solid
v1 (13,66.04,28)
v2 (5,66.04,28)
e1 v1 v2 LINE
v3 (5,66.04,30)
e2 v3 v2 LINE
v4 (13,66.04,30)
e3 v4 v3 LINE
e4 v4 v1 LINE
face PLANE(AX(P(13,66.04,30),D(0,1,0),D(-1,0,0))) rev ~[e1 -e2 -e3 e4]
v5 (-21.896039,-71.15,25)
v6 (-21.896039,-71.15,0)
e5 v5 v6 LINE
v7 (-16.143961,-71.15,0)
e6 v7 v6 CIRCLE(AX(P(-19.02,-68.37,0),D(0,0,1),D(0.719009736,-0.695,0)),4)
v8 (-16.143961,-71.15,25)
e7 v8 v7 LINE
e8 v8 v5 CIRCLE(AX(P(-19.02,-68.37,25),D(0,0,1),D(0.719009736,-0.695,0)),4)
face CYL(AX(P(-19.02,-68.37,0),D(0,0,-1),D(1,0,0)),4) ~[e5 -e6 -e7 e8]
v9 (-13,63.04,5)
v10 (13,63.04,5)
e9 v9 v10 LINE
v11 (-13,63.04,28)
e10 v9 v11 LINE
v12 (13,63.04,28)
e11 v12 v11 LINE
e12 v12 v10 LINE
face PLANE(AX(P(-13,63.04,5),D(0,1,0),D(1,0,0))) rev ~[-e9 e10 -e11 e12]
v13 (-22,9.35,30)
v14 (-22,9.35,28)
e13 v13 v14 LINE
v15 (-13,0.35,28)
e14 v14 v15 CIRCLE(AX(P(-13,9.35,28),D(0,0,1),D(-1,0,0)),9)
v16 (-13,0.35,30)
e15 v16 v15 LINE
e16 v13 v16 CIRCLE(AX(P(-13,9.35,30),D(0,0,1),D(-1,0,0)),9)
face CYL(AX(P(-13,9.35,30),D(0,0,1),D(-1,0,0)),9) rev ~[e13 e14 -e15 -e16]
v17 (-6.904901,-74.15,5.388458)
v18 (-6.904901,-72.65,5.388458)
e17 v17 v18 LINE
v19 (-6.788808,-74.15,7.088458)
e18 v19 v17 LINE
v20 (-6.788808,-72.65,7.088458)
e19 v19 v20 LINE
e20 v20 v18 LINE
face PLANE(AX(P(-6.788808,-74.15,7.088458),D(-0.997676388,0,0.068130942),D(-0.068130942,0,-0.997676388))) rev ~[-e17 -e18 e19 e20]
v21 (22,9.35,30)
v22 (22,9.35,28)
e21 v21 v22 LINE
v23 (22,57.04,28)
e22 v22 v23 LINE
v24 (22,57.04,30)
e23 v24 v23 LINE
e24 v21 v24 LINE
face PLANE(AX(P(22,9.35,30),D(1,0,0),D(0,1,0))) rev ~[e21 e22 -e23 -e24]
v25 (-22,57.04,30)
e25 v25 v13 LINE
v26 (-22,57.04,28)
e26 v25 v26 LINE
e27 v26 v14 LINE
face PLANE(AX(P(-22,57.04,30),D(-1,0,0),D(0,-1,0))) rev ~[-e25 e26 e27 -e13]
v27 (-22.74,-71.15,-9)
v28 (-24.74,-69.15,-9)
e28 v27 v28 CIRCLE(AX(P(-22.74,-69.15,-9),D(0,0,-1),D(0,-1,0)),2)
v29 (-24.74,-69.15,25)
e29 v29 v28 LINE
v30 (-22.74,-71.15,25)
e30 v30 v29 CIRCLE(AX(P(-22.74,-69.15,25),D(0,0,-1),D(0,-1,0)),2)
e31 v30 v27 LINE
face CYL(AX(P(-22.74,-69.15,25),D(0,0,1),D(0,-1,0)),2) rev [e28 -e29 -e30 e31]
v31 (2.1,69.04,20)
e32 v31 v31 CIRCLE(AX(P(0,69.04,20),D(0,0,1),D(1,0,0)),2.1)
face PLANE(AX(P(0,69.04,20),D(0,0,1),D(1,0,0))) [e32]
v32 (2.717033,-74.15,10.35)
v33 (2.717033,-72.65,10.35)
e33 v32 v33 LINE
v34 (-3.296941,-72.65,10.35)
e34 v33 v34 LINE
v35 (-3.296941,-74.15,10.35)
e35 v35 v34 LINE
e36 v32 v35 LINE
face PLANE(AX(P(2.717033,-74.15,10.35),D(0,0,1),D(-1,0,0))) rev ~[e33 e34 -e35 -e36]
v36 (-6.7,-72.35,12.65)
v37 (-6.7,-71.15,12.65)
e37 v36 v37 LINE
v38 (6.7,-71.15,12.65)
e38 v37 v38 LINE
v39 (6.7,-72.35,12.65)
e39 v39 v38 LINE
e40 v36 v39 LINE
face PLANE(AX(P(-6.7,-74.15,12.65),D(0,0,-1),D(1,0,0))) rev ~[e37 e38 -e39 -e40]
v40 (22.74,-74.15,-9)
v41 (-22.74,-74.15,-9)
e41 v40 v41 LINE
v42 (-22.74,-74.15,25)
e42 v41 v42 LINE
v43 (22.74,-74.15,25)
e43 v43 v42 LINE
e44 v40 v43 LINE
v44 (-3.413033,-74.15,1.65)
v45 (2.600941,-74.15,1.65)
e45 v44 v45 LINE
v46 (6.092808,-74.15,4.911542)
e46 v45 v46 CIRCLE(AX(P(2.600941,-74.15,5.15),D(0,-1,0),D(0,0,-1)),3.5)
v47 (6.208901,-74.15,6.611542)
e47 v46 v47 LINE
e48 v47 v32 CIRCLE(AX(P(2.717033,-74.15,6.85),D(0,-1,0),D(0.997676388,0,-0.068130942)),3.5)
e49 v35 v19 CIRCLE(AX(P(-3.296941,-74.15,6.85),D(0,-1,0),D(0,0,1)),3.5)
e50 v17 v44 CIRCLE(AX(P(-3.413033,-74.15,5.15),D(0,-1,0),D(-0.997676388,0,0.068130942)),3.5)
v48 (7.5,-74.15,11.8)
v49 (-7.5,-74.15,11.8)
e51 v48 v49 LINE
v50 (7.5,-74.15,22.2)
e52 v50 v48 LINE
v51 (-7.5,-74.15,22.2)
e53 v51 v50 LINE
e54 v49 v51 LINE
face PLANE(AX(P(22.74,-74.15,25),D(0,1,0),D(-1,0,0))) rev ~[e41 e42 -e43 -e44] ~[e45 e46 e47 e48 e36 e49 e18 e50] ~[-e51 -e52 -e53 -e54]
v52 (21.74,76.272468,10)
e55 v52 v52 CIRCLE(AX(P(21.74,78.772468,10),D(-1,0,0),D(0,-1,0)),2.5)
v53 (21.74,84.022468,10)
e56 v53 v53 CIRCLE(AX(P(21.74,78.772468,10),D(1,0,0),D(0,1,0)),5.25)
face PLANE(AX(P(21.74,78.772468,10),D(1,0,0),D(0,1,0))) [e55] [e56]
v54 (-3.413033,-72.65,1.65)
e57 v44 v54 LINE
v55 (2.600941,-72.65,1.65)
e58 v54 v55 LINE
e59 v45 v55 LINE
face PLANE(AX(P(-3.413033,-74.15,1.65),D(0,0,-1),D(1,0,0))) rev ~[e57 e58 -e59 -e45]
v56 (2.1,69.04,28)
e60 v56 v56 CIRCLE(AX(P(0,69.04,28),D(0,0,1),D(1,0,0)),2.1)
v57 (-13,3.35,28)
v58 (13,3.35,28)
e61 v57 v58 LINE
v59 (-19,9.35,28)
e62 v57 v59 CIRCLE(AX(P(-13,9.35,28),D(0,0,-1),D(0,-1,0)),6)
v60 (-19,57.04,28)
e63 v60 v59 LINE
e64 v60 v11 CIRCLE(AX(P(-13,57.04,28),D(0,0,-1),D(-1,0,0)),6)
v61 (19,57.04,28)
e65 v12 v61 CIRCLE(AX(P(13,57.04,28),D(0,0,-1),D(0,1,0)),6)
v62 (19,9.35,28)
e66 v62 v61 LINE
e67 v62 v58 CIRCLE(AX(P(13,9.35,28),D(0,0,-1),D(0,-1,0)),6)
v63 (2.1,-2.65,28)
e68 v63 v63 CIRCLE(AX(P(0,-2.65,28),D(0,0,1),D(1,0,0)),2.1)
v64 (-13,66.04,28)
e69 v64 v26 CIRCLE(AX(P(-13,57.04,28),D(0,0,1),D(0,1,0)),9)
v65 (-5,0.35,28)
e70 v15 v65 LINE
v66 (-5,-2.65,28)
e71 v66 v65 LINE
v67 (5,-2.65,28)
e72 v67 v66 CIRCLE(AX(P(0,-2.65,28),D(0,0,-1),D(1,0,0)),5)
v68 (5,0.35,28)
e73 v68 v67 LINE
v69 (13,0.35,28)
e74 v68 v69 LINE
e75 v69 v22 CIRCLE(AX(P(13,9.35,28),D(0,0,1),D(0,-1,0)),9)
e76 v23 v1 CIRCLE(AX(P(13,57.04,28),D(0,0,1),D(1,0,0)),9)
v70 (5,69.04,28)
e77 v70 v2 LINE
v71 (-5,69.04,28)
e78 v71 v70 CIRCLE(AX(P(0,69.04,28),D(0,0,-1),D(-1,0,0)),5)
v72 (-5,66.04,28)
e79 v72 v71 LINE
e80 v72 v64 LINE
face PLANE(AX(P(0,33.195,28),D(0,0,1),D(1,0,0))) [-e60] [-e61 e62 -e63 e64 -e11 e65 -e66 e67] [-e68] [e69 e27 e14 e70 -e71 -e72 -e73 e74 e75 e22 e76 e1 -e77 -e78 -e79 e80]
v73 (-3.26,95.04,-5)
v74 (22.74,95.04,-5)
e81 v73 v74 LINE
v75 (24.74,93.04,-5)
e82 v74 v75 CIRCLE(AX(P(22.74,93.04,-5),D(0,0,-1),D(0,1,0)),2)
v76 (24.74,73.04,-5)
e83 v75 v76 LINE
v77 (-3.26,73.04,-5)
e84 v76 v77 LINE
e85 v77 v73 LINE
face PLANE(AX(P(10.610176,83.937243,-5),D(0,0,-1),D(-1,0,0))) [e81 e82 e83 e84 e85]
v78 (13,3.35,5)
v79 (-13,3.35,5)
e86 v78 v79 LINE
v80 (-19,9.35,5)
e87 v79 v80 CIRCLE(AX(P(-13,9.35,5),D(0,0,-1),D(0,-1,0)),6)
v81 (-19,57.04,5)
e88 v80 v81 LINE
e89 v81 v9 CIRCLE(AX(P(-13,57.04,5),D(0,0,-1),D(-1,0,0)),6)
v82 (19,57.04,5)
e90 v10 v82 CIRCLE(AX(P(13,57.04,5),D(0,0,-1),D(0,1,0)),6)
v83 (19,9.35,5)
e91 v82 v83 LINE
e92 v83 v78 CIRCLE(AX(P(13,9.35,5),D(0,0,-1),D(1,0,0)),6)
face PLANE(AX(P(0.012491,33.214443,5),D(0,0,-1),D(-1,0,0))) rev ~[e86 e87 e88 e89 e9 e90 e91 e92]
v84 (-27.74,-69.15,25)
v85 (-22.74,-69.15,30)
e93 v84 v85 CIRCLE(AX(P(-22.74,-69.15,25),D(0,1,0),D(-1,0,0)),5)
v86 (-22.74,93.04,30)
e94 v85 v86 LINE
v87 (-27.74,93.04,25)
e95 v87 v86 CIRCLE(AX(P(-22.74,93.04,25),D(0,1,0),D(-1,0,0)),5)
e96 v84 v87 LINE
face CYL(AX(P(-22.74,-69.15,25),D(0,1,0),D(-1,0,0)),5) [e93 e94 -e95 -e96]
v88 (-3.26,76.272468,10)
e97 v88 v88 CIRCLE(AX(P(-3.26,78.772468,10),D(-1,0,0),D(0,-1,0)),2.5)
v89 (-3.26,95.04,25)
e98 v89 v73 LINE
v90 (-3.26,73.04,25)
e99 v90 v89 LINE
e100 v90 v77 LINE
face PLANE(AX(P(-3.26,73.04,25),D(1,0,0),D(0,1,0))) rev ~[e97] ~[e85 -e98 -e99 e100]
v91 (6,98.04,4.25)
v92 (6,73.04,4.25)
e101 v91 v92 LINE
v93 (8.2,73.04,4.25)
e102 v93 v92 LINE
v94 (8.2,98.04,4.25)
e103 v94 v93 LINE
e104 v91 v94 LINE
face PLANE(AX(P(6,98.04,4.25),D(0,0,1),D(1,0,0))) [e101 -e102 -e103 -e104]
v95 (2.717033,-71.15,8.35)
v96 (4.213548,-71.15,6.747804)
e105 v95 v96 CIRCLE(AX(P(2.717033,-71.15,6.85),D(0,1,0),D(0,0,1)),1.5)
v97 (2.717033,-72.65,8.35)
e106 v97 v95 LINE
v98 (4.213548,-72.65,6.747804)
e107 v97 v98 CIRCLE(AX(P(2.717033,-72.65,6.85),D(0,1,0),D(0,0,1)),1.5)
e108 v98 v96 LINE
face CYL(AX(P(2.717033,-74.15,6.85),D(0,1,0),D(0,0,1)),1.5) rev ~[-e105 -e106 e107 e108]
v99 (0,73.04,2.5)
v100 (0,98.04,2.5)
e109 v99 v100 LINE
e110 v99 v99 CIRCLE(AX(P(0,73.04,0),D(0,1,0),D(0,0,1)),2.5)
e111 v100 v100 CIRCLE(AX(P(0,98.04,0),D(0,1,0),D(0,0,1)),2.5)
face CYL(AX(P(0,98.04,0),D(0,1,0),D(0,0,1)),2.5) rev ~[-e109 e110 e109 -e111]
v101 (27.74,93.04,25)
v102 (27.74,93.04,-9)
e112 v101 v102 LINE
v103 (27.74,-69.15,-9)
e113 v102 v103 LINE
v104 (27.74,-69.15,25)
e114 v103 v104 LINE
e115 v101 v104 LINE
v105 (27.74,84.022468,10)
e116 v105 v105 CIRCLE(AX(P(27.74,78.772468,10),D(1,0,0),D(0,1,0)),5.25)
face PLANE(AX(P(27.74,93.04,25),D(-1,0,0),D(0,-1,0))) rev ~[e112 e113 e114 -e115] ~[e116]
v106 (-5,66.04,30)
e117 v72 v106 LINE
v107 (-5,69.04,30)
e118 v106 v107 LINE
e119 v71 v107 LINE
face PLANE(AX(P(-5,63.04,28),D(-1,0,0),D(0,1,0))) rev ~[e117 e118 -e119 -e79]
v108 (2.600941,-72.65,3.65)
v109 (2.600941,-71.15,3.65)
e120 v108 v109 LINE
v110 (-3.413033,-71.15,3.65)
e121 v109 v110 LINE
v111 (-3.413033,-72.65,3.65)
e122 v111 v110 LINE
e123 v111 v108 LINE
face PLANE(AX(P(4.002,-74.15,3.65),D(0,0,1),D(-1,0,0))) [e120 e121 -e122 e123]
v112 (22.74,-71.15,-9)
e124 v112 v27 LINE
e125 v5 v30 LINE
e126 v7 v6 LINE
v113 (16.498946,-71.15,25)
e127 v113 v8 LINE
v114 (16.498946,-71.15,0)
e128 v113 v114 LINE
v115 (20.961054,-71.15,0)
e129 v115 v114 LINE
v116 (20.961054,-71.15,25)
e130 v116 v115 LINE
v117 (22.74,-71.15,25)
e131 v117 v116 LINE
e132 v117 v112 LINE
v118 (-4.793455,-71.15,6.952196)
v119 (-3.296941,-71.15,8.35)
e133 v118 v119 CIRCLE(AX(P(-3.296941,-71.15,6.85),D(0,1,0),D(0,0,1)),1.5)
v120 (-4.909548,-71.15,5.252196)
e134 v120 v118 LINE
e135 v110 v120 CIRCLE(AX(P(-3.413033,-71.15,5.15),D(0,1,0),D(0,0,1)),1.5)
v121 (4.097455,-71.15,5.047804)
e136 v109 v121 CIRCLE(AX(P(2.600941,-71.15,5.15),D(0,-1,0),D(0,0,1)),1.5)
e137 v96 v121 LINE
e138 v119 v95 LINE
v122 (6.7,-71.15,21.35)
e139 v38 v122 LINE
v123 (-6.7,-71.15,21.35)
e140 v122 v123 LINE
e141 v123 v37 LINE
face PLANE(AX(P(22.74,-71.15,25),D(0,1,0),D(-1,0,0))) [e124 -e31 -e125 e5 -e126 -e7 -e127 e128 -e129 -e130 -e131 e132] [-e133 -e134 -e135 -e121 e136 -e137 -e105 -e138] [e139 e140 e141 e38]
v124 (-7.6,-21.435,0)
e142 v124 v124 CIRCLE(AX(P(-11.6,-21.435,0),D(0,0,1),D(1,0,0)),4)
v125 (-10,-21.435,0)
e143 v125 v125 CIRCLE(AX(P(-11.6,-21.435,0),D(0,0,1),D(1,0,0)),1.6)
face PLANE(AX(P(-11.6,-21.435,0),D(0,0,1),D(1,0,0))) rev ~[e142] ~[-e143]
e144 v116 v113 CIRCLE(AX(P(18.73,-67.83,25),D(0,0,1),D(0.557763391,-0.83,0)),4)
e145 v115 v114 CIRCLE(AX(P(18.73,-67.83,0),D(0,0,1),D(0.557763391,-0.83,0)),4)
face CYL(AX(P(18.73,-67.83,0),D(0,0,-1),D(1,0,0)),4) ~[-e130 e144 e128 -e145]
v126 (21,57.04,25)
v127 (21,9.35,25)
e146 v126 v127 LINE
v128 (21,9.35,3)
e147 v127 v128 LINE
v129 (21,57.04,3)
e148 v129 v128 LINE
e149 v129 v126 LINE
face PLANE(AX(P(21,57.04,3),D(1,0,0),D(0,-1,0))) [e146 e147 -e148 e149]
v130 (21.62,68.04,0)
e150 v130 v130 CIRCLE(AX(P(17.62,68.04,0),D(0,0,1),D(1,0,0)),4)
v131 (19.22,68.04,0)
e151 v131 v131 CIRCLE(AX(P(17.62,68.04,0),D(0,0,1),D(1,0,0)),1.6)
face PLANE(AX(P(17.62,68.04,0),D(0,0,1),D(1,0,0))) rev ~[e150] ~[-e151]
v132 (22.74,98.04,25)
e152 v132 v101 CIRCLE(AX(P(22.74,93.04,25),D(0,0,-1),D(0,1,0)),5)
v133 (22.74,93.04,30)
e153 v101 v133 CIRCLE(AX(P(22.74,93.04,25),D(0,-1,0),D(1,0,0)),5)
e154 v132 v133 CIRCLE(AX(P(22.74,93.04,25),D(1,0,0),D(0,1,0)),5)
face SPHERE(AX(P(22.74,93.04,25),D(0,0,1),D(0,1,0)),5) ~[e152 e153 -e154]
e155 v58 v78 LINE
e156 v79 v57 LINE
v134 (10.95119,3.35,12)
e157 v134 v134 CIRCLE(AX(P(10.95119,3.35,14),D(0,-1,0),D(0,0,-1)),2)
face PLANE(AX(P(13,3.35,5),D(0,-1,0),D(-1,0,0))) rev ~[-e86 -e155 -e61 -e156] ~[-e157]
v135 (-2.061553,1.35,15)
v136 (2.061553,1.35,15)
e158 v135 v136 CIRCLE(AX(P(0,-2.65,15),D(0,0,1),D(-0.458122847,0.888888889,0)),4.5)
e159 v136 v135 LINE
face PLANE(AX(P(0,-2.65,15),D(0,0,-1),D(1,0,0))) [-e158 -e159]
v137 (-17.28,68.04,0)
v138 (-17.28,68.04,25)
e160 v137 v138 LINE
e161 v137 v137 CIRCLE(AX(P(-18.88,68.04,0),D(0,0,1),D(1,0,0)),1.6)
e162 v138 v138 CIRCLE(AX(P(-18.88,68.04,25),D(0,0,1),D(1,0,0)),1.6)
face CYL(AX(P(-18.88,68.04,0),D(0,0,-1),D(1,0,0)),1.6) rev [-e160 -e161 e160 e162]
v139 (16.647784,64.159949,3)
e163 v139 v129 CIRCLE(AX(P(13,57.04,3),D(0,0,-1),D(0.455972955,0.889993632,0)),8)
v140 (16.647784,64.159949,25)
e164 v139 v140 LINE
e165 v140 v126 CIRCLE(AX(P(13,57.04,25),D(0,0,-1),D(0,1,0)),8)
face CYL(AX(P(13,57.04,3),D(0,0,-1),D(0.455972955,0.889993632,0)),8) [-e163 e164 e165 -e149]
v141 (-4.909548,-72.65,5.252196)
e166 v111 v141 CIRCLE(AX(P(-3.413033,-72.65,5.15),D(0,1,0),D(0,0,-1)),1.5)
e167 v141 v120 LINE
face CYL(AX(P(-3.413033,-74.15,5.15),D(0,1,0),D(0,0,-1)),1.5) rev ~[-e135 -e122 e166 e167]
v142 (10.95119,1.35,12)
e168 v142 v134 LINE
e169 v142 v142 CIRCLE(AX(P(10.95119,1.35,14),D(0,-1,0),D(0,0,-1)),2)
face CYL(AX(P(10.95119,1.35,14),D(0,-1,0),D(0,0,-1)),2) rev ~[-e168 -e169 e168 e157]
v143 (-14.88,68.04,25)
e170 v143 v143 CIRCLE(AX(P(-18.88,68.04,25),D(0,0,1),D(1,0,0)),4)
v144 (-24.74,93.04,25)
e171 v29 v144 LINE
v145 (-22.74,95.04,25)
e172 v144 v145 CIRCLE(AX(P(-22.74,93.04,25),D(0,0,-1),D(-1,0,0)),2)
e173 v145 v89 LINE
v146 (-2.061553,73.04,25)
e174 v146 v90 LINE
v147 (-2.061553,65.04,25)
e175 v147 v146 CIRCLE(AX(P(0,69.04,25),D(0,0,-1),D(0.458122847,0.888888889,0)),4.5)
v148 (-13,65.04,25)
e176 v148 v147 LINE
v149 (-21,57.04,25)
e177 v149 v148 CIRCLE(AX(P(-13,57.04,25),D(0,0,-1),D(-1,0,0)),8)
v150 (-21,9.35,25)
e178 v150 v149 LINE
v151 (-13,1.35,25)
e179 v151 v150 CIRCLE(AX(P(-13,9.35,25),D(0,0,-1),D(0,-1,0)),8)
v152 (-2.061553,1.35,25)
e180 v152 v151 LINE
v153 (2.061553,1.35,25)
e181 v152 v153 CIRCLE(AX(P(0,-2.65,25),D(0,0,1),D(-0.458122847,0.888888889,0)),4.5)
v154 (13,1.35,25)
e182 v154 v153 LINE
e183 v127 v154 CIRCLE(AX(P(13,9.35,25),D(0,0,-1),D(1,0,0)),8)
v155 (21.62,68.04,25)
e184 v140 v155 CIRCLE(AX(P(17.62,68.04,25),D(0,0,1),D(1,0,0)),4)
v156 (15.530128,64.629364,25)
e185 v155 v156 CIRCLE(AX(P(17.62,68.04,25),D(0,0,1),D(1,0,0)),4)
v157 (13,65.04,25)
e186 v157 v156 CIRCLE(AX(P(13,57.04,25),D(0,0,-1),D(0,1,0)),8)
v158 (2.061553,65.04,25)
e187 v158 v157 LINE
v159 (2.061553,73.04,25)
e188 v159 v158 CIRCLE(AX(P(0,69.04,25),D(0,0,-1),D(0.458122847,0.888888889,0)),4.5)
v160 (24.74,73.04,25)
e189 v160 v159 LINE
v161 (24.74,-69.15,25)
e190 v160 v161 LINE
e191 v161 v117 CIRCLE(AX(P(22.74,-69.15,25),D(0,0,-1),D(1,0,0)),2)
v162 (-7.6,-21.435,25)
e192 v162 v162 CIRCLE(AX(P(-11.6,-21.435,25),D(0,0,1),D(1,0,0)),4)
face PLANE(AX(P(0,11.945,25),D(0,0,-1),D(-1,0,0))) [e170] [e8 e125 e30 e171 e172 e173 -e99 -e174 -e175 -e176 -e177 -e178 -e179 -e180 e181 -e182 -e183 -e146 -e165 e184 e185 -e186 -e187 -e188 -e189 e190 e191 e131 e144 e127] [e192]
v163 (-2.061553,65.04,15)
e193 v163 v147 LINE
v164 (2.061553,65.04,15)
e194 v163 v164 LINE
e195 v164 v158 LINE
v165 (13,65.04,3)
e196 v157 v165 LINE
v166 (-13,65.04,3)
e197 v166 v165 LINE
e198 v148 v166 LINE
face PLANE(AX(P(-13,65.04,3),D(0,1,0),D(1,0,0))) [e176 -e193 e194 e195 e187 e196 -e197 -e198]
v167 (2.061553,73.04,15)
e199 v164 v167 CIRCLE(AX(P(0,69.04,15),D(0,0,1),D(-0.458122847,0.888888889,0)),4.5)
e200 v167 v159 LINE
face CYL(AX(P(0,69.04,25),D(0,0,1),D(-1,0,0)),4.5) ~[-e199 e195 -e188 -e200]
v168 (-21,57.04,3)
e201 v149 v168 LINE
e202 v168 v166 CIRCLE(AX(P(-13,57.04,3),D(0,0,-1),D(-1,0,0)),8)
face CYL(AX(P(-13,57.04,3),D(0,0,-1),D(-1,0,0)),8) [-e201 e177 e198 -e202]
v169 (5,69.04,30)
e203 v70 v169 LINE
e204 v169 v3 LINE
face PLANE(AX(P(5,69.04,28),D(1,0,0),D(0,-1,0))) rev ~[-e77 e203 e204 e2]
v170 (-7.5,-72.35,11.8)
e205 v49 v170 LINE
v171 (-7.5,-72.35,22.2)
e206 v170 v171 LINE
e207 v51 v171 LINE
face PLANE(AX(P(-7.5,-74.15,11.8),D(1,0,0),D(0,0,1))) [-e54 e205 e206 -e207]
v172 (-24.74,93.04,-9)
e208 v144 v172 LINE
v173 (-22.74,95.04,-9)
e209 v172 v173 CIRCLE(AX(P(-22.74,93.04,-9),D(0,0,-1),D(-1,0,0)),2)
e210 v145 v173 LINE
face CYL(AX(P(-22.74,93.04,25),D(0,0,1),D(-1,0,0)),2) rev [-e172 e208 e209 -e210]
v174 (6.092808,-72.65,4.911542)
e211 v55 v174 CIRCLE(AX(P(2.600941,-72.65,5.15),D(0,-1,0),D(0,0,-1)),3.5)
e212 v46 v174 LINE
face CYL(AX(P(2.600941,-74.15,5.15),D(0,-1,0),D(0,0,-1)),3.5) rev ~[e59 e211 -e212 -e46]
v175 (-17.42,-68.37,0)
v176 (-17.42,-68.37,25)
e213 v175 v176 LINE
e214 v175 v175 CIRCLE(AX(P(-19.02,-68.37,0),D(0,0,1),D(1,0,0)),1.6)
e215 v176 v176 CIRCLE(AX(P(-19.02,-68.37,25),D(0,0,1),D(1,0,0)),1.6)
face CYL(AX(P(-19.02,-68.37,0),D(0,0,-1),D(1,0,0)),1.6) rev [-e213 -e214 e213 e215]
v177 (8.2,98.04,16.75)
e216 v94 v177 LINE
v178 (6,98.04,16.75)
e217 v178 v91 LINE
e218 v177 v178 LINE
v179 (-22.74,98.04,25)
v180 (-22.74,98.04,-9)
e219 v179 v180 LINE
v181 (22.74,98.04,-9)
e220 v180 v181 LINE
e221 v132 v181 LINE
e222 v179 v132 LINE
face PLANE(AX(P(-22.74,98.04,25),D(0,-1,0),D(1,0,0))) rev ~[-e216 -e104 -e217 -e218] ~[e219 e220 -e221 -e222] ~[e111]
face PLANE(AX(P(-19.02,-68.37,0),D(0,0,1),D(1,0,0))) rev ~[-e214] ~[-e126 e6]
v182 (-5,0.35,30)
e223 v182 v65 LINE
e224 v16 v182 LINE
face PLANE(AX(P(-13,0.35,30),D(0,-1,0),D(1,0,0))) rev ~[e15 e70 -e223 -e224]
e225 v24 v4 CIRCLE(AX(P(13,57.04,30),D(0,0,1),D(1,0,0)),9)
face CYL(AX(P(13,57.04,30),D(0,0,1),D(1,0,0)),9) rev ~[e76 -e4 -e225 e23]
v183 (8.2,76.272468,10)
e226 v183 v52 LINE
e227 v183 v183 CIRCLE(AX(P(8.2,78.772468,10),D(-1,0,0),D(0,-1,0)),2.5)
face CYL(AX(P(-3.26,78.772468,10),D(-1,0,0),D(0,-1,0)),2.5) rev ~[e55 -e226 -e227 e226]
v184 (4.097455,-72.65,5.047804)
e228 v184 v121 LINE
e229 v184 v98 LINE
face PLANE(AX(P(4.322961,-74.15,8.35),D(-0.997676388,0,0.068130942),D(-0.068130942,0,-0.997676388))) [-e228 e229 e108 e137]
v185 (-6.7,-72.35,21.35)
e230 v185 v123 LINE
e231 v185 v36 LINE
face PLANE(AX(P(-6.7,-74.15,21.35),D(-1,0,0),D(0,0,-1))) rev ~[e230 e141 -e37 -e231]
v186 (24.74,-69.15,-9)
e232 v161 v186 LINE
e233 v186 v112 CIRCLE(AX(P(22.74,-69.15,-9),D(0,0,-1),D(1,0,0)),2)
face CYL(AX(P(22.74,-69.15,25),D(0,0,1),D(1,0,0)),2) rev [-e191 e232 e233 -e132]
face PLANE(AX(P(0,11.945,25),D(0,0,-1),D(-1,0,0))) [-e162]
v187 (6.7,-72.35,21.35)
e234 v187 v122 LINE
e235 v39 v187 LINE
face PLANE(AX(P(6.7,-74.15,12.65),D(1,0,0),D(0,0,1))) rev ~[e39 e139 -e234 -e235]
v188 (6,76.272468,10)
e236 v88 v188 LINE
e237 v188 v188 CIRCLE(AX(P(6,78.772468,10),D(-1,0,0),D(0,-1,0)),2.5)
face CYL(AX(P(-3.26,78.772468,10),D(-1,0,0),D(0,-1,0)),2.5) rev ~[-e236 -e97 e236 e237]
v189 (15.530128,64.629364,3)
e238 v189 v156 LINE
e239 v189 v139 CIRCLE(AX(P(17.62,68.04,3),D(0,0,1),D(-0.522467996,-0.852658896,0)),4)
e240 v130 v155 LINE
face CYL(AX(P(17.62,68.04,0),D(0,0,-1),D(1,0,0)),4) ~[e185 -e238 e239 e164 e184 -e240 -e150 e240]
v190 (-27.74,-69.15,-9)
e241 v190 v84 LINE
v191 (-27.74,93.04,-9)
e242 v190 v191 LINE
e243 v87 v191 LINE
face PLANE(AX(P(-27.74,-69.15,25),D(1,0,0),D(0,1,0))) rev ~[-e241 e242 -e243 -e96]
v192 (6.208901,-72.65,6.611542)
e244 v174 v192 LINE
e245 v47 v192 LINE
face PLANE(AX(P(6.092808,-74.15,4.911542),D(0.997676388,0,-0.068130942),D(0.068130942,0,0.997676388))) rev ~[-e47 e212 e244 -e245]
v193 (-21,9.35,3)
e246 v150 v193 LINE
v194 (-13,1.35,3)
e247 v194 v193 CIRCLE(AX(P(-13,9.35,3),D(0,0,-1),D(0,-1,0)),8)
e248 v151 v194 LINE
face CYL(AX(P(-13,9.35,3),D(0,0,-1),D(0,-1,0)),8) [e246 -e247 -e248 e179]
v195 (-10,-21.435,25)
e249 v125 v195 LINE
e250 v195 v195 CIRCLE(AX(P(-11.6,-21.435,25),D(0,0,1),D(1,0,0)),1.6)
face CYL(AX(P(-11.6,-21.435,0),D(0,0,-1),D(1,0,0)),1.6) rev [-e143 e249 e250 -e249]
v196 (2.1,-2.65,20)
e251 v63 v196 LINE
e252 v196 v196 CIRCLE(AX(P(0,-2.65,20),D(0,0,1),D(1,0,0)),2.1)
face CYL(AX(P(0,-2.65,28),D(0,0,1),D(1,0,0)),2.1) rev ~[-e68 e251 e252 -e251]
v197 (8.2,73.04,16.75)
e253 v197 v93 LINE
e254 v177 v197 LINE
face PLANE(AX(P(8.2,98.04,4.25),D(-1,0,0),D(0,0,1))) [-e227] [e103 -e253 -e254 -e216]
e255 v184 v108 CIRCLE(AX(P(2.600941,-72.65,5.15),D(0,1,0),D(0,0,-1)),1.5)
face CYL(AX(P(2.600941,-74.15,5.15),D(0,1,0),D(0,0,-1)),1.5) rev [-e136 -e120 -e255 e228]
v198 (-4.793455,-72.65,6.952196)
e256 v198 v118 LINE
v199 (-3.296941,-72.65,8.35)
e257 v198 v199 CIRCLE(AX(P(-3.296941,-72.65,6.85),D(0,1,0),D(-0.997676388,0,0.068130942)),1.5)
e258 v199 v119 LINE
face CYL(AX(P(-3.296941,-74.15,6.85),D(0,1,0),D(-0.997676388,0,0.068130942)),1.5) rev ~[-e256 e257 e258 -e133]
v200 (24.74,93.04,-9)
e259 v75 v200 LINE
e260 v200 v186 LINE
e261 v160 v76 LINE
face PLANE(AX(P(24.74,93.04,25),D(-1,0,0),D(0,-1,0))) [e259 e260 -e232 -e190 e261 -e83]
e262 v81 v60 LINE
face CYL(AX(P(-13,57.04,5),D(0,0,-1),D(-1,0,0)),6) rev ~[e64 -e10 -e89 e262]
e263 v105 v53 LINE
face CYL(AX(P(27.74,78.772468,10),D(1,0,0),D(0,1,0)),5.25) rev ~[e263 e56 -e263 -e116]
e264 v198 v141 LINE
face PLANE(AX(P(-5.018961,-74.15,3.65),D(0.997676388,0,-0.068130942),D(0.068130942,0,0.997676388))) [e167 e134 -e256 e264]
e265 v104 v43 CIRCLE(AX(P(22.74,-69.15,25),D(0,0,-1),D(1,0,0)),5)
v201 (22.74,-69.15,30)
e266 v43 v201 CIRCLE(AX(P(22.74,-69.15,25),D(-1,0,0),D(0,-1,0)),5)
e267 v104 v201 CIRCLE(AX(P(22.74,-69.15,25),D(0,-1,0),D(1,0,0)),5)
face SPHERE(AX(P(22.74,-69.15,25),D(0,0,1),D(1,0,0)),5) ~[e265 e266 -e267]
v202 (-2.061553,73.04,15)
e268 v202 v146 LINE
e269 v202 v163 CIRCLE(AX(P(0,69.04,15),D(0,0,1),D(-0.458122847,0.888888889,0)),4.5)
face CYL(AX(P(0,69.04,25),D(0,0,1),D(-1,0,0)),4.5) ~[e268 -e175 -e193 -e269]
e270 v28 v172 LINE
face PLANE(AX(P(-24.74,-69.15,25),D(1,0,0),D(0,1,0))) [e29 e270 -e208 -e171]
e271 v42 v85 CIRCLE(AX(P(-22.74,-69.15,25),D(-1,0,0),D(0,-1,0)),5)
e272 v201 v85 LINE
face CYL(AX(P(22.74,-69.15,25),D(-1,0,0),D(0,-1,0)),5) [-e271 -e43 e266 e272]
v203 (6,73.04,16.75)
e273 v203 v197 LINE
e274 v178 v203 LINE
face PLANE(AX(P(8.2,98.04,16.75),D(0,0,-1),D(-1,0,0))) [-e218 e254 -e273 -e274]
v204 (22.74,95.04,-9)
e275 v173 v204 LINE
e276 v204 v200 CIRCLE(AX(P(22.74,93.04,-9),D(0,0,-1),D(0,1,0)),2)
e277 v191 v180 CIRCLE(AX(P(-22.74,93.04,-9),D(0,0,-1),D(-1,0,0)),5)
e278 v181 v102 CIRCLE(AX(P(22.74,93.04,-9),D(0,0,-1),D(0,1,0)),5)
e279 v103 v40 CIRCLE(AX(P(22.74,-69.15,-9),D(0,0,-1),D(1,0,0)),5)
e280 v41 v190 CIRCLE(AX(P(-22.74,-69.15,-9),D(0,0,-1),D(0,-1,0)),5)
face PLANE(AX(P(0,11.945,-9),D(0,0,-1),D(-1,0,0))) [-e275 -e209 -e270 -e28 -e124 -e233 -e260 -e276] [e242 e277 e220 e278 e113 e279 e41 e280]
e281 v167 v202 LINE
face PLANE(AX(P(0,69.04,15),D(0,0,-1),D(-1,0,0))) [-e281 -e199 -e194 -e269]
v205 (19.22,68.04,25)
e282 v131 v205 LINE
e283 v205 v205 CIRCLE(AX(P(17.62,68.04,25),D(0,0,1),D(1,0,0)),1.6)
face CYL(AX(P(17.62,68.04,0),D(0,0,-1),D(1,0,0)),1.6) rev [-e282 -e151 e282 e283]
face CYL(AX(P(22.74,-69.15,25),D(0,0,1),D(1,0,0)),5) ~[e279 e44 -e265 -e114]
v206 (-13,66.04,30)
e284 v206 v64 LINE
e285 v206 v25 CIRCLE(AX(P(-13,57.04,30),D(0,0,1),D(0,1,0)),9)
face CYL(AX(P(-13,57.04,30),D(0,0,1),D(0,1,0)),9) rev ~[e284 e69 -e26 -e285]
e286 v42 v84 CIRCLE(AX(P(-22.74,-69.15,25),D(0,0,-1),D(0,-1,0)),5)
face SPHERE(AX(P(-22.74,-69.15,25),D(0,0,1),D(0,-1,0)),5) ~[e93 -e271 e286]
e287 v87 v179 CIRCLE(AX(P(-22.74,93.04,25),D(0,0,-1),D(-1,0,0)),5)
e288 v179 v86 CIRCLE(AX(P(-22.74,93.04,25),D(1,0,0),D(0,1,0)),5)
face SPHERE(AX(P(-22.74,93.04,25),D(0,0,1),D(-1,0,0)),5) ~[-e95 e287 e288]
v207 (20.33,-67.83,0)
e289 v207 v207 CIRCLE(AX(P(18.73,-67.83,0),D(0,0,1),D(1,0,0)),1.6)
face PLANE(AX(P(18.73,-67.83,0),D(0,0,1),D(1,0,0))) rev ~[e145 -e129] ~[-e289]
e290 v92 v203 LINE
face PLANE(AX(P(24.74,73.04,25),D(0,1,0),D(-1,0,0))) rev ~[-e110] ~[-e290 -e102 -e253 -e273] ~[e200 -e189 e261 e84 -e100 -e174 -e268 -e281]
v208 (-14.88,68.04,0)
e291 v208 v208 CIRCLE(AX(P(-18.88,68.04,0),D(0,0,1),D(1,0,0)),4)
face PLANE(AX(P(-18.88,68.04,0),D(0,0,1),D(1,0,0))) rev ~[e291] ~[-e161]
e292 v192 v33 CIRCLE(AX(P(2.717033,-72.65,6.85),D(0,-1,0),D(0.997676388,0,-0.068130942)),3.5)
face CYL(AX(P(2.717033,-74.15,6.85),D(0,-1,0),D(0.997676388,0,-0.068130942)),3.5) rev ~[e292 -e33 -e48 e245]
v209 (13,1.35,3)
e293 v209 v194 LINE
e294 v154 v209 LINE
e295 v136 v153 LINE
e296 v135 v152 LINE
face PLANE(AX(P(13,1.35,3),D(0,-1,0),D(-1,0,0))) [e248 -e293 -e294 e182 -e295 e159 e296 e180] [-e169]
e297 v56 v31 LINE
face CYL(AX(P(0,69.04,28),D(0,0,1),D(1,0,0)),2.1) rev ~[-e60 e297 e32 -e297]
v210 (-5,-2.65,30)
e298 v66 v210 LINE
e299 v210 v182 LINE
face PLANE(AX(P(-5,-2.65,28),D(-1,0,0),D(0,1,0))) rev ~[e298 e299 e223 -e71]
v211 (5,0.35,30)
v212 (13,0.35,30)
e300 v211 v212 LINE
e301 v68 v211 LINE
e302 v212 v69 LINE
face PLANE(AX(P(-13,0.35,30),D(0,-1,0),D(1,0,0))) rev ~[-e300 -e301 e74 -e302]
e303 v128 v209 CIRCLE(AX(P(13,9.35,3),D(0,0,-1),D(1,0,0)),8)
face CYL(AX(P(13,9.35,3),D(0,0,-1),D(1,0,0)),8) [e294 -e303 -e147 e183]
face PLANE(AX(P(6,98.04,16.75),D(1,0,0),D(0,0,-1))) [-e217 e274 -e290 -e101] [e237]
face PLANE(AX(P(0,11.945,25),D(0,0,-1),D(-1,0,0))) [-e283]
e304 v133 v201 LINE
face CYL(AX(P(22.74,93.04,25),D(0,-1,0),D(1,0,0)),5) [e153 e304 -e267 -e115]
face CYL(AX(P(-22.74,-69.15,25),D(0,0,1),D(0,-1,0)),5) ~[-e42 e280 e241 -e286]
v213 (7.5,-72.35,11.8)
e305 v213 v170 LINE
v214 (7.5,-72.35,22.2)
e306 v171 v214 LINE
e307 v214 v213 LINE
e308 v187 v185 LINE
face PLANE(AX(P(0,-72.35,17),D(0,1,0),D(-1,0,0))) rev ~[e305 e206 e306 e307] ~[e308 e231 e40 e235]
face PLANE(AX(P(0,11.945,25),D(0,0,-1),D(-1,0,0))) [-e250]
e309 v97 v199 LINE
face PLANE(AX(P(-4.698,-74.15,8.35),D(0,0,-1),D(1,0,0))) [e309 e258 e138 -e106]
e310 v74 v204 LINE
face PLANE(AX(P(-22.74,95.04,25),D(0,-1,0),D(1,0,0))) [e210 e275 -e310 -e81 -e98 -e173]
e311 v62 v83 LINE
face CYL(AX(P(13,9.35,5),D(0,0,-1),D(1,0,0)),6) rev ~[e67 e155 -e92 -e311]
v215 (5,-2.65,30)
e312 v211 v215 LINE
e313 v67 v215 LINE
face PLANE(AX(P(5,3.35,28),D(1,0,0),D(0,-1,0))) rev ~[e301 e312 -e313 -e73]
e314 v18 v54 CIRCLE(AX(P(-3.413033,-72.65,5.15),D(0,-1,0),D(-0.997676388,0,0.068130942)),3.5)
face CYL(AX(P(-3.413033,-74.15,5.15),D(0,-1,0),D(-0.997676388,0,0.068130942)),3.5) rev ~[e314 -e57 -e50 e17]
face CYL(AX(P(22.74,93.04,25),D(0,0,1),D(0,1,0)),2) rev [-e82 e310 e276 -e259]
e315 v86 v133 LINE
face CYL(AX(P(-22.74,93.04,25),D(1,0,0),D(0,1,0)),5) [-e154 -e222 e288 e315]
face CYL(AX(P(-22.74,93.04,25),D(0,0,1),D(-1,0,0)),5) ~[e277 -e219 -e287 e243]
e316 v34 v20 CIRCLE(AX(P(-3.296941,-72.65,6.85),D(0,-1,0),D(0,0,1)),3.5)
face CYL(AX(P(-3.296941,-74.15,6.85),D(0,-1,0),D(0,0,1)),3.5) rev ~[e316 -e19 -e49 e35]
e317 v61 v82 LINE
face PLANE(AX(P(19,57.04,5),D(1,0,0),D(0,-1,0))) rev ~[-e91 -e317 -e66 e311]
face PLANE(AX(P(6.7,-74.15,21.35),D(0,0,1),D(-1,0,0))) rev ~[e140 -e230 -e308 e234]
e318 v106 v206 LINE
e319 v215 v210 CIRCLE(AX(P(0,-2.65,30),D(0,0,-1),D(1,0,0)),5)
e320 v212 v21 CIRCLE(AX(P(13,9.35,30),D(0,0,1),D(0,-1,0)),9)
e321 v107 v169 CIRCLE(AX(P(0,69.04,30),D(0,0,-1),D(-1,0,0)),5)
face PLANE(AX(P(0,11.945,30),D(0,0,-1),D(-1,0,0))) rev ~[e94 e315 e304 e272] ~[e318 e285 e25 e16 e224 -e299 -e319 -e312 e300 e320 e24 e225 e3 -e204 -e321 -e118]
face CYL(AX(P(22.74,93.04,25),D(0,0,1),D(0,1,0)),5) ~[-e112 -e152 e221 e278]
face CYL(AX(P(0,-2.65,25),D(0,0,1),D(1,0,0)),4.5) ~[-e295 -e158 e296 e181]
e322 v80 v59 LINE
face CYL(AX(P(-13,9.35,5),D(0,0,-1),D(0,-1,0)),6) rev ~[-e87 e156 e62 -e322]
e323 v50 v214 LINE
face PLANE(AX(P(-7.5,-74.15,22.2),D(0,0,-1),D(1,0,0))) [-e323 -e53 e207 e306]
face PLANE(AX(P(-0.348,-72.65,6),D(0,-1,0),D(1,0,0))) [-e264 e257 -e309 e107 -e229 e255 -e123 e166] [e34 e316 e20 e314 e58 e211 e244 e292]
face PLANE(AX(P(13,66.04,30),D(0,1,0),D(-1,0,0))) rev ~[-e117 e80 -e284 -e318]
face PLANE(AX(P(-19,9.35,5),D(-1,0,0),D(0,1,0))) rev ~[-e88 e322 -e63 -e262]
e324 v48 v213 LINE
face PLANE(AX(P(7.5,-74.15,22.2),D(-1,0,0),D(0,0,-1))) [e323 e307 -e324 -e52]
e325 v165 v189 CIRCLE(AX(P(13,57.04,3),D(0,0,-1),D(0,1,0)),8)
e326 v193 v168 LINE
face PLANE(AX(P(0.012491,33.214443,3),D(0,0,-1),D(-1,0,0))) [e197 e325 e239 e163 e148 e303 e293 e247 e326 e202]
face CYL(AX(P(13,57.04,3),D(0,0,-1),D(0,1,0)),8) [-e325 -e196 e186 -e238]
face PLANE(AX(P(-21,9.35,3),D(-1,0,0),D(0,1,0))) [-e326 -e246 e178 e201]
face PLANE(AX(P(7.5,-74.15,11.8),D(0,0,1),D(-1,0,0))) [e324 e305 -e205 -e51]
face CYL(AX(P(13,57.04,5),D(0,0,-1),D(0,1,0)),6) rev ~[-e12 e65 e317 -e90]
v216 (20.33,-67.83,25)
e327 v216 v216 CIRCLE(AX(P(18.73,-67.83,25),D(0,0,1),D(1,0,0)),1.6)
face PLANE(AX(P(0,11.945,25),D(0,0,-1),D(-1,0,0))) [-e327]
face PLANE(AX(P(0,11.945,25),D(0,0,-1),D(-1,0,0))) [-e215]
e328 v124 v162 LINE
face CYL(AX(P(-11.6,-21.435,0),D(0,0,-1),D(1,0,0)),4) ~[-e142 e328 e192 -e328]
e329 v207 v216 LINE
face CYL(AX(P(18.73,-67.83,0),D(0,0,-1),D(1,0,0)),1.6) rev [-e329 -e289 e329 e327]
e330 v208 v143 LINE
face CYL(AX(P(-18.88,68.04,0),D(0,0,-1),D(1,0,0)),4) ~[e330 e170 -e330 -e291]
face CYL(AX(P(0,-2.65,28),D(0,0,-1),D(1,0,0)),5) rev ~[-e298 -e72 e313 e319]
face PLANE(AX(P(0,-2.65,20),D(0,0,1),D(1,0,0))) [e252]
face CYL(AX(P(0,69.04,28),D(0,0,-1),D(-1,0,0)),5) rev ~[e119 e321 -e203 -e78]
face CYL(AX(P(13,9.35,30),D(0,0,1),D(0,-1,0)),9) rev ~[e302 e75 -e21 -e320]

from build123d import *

# Parameters (mm, degrees)
ESQUISSE1_R              = 4.000000000000002
ESQUISSE1_R_2            = 1.600000000000006
BOSS_EXTRU_1_DEPTH       = 25
ESQUISSE1_R_3            = 4
BOSS_EXTRU_1_2_DEPTH     = 25
ESQUISSE1_R_4            = 4.000000000000001
ESQUISSE1_R_5            = 1.6000000000000019
BOSS_EXTRU_1_3_DEPTH     = 25
BOSS_EXTRU_1_4_DEPTH     = 25
BOSS_EXTRU_1_5_DEPTH     = 25
BOSS_EXTRU_2_DEPTH       = 5
CONG_1_R                 = 5
BOSS_EXTRU_3_DEPTH       = 34
ENL_V_MAT_EXTRU_1_REACH  = 178.971
ESQUISSE5_R              = 2.4999999999999987
CONG_2_R                 = 5
BOSS_EXTRU_9_DEPTH       = 30
ESQUISSE9_R              = 2.4999999999999987
ENL_V_MAT_EXTRU_3_DEPTH  = 22
ESQUISSE13_R             = 2.500000000000001
ENL_V_MAT_EXTRU_4_DEPTH  = 31
ESQUISSE14_R             = 5.250000000000006
ENL_V_MAT_EXTRU_5_DEPTH  = 6
ENL_V_MAT_EXTRU_6_DEPTH  = 5
CONG_3_R                 = 6
ENL_V_MAT_EXTRU_7_DEPTH  = 2
ENL_V_MAT_EXTRU_8_DEPTH  = 2
ESQUISSE21_R             = 4.500000000000001
ESQUISSE21_R_2           = 4.5
BOSS_EXTRU_13_DEPTH      = 10
ESQUISSE22_R             = 2.1000000000000068
ESQUISSE22_R_2           = 2.1
ENL_V_MAT_EXTRU_9_DEPTH  = 8
ENL_V_MAT_EXTRU_10_REACH = 178.971
CONG_4_R                 = 1.5
ENL_V_MAT_EXTRU_11_REACH = 178.971
ENL_V_MAT_EXTRU_12_DEPTH = 1.8
BOSS_EXTRU_19_START      = 20
BOSS_EXTRU_19_DEPTH      = 20
BOSS_EXTRU_20_START      = 2
BOSS_EXTRU_20_DEPTH      = 2
ENL_V_MAT_EXTRU_13_REACH = 106.969
ESQUISSE29_R             = 1.9999999999999996
ENL_V_MAT_EXTRU_14_REACH = 178.971
ENL_V_MAT_EXTRU_15_DEPTH = 1.5


with BuildPart() as part:
    # Esquisse1 → Boss.-Extru.1 (new body)
    with BuildSketch(Plane.XY):
        with Locations((-18.880000000000003, 68.04)):
            Circle(ESQUISSE1_R)
        with Locations((-18.880000000000003, 68.04)):
            Circle(ESQUISSE1_R_2, mode=Mode.SUBTRACT)
    extrude(amount=BOSS_EXTRU_1_DEPTH)



with BuildPart() as body_2:
    # Esquisse1 → Boss.-Extru.1 2 (new body)
    with BuildSketch(Plane.XY):
        with Locations((17.62, 68.04)):
            Circle(ESQUISSE1_R_3)
        with Locations((17.62, 68.04)):
            Circle(ESQUISSE1_R_2, mode=Mode.SUBTRACT)
    extrude(amount=BOSS_EXTRU_1_2_DEPTH)


with BuildPart() as body_3:
    # Esquisse1 → Boss.-Extru.1 3 (new body)
    with BuildSketch(Plane.XY):
        with Locations((-11.6, -21.435)):
            Circle(ESQUISSE1_R_4)
        with Locations((-11.6, -21.435)):
            Circle(ESQUISSE1_R_5, mode=Mode.SUBTRACT)
    extrude(amount=BOSS_EXTRU_1_3_DEPTH)


with BuildPart() as body_4:
    # Esquisse1 → Boss.-Extru.1 4 (new body)
    with BuildSketch(Plane.XY):
        with Locations((-19.02, -68.37)):
            Circle(ESQUISSE1_R)
        with Locations((-19.02, -68.37)):
            Circle(ESQUISSE1_R_2, mode=Mode.SUBTRACT)
    extrude(amount=BOSS_EXTRU_1_4_DEPTH)


with BuildPart() as body_5:
    # Esquisse1 → Boss.-Extru.1 5 (new body)
    with BuildSketch(Plane.XY):
        with Locations((18.73, -67.83)):
            Circle(ESQUISSE1_R_3)
        with Locations((18.73, -67.83)):
            Circle(ESQUISSE1_R_2, mode=Mode.SUBTRACT)
    extrude(amount=BOSS_EXTRU_1_5_DEPTH)


with BuildPart() as part_1:
    add(part.part)

    add(body_2.part)  # Boss.-Extru.2 merges body 2

    add(body_3.part)  # Boss.-Extru.2 merges body 3

    add(body_4.part)  # Boss.-Extru.2 merges body 4

    add(body_5.part)  # Boss.-Extru.2 merges body 5
    # Esquisse2 → Boss.-Extru.2 (add)
    with BuildSketch(Plane.XY.offset(25)):
        Polygon((-27.740000000000002, 98.04), (27.740000000000002, 98.04), (27.740000000000023, -74.15), (-27.73999999999998, -74.15), align=None)
    extrude(amount=BOSS_EXTRU_2_DEPTH)

    # Congé1
    cong_1_edges = [part_1.edges().sort_by_distance(p)[0] for p in [
        (-27.73999999999998, -74.15, 27.5),
        (27.740000000000023, -74.15, 27.5),
        (27.740000000000002, 98.04, 27.5),
        (-27.740000000000002, 98.04, 27.5),
    ]]
    fillet(cong_1_edges, radius=CONG_1_R)

    # Esquisse4 → Boss.-Extru.3 (add)
    with BuildSketch(Plane(origin=(0, 0, 25), x_dir=(-1, 0, 0), z_dir=(0, 0, -1))):
        with BuildLine():
            Line((27.73999999999998, -69.14999999999995), (27.740000000000002, 93.03999999999999))
            ThreePointArc((27.740000000000002, 93.03999999999999), (26.27553390593274, 96.57553390593273), (22.74, 98.04))
            Line((22.74, 98.04), (-22.739999999999995, 98.04))
            ThreePointArc((-22.739999999999995, 98.04), (-26.275533905932743, 96.57553390593274), (-27.740000000000002, 93.03999999999999))
            Line((-27.740000000000002, 93.03999999999999), (-27.740000000000023, -69.14999999999995))
            ThreePointArc((-27.740000000000023, -69.14999999999995), (-26.27553390593278, -72.68553390593273), (-22.740000000000016, -74.15))
            Line((-22.740000000000016, -74.15), (22.73999999999998, -74.15))
            ThreePointArc((22.73999999999998, -74.15), (26.27553390593274, -72.68553390593273), (27.73999999999998, -69.14999999999995))
        make_face()
        with BuildLine():
            Line((24.73999999999998, -69.14999999999999), (24.73999999999998, 93.04))
            ThreePointArc((24.73999999999998, 93.04), (24.154213562373076, 94.45421356237308), (22.74, 95.04))
            Line((22.74, 95.04), (-22.73999999999999, 95.03999999999999))
            ThreePointArc((-22.73999999999999, 95.03999999999999), (-24.154213562373087, 94.45421356237308), (-24.740000000000002, 93.03999999999999))
            Line((-24.740000000000002, 93.03999999999999), (-24.740000000000002, -69.14999999999999))
            ThreePointArc((-24.740000000000002, -69.14999999999999), (-24.1542135623731, -70.56421356237307), (-22.74000000000002, -71.15))
            Line((-22.74000000000002, -71.15), (22.739999999999977, -71.15))
            ThreePointArc((22.739999999999977, -71.15), (24.15421356237308, -70.5642135623731), (24.73999999999998, -69.14999999999999))
        make_face(mode=Mode.SUBTRACT)
    extrude(amount=BOSS_EXTRU_3_DEPTH)

    # Esquisse5 → Enlèv. mat.-Extru.1 (cut, up to next)
    with BuildSketch(Plane(origin=(0, 98.04, 0), x_dir=(1, 0, 0), z_dir=(0, 1, 0)), mode=Mode.PRIVATE) as enl_v_mat_extru_1_sk1:
        with Locations(Location((0, 0, 0), (0, 0, 270))):
            Circle(ESQUISSE5_R)
    enl_v_mat_extru_1_tool1 = extrude(enl_v_mat_extru_1_sk1.sketch, amount=-ENL_V_MAT_EXTRU_1_REACH, mode=Mode.PRIVATE) & part_1.part
    add(enl_v_mat_extru_1_tool1.solids().sort_by_distance((0, 98.04, 0))[0], mode=Mode.SUBTRACT)

    # Congé2
    cong_2_edges = [part_1.edges().sort_by_distance(p)[0] for p in [
        (-27.73999999999999, 11.944999999999993, 30),
        (0, 98.04, 30),
        (2.132e-14, -74.15, 30),
        (27.740000000000013, 11.945000000000007, 30),
        (26.27553390593274, 96.57553390593274, 30),
        (-26.27553390593272, -72.68553390593274, 30),
        (26.27553390593276, -72.68553390593274, 30),
        (-26.27553390593274, 96.57553390593273, 30),
    ]]
    fillet(cong_2_edges, radius=CONG_2_R)

    # Esquisse8 → Boss.-Extru.9 (add)
    with BuildSketch(Plane(origin=(0, 0, 25), x_dir=(-1, 0, 0), z_dir=(0, 0, -1))):
        with BuildLine():
            Line((3.2599999999999816, 95.03999999999999), (-22.73999999999999, 95.03999999999999))
            ThreePointArc((-22.73999999999999, 95.03999999999999), (-24.154213562373087, 94.45421356237308), (-24.73999999999999, 93.03999999999999))
            Line((-24.73999999999999, 93.03999999999999), (-24.73999999999999, 73.03999999999996))
            Line((-24.73999999999999, 73.03999999999996), (3.2599999999999807, 73.03999999999996))
            Line((3.2599999999999807, 73.03999999999996), (3.2599999999999816, 95.03999999999999))
        make_face()
    extrude(amount=BOSS_EXTRU_9_DEPTH)

    # Esquisse9 → Enlèv. mat.-Extru.3 (cut)
    with BuildSketch(Plane(origin=(0, 95.03999999999999, 0), x_dir=(1, 0, 0), z_dir=(0, 1, 0))):
        with Locations(Location((0, 0, 0), (0, 0, 270))):
            Circle(ESQUISSE9_R)
    extrude(amount=-ENL_V_MAT_EXTRU_3_DEPTH, mode=Mode.SUBTRACT)

    # Esquisse13 → Enlèv. mat.-Extru.4 (cut)
    with BuildSketch(Plane.ZY.offset(3.2599999999999776)):
        with Locations(Location((9.999999999999998, 78.77246810437555, 0), (0, 0, 270))):
            Circle(ESQUISSE13_R)
    extrude(amount=-ENL_V_MAT_EXTRU_4_DEPTH, mode=Mode.SUBTRACT)

    # Esquisse14 → Enlèv. mat.-Extru.5 (cut)
    with BuildSketch(Plane(origin=(27.740000000000013, 3.35e-15, 0), x_dir=(0, 0, -1), z_dir=(1, 1.2e-16, 0))):
        with Locations(Location((-9.999999999999998, 78.77246810437555, 0), (0, 0, 90))):
            Circle(ESQUISSE14_R)
    extrude(amount=-ENL_V_MAT_EXTRU_5_DEPTH, mode=Mode.SUBTRACT)

    # Esquisse16 → Enlèv. mat.-Extru.6 (cut)
    with BuildSketch(Plane.XY.offset(30.000000000000004)):
        Polygon((18.999999999999996, 3.3499999999999917), (-19.000000000000004, 3.349999999999987), (-19.000000000000004, 63.039999999999985), (18.999999999999996, 63.039999999999985), align=None)
    extrude(amount=-ENL_V_MAT_EXTRU_6_DEPTH, mode=Mode.SUBTRACT)

    # Congé3
    cong_3_edges = [part_1.edges().sort_by_distance(p)[0] for p in [
        (-19.000000000000004, 3.349999999999987, 27.500000000000004),
        (-19.000000000000004, 63.039999999999985, 27.500000000000004),
        (18.999999999999996, 63.039999999999985, 27.500000000000004),
        (18.999999999999996, 3.3499999999999917, 27.500000000000004),
    ]]
    fillet(cong_3_edges, radius=CONG_3_R)

    # Esquisse18 → Enlèv. mat.-Extru.7 (cut)
    with BuildSketch(Plane.XY.offset(30.000000000000004)):
        with BuildLine():
            Line((21.999999999999996, 9.34999999999999), (21.999999999999996, 57.039999999999985))
            ThreePointArc((21.999999999999996, 57.039999999999985), (19.363961030678926, 63.403961030678914), (12.999999999999996, 66.03999999999999))
            Line((12.999999999999996, 66.03999999999999), (-13.000000000000007, 66.03999999999999))
            ThreePointArc((-13.000000000000007, 66.03999999999999), (-19.363961030678947, 63.40396103067891), (-22.000000000000004, 57.03999999999996))
            Line((-22.000000000000004, 57.03999999999996), (-22.000000000000004, 9.34999999999999))
            ThreePointArc((-22.000000000000004, 9.34999999999999), (-19.363961030678933, 2.986038969321063), (-13.000000000000004, 0.3499999999999892))
            Line((-13.000000000000004, 0.3499999999999892), (12.999999999999998, 0.34999999999999093))
            ThreePointArc((12.999999999999998, 0.34999999999999093), (19.363961030678926, 2.986038969321063), (21.999999999999996, 9.34999999999999))
        make_face()
    extrude(amount=-ENL_V_MAT_EXTRU_7_DEPTH, mode=Mode.SUBTRACT)

    # Esquisse20 → Enlèv. mat.-Extru.8 (cut)
    with BuildSketch(Plane.XY.offset(28.000000000000004)):
        with BuildLine():
            Line((5, 69.03999999999999), (5.000000000000001, 63.039999999999985))
            ThreePointArc((5.000000000000001, 63.039999999999985), (1.8e-16, 58.039999999999985), (-4.999999999999999, 63.039999999999985))
            Line((-4.999999999999999, 63.039999999999985), (-5, 69.03999999999999))
            ThreePointArc((-5, 69.03999999999999), (3.1e-16, 74.03999999999999), (5, 69.03999999999999))
        make_face()
        with BuildLine():
            Line((5.000000000000011, 3.3499999999999908), (5.000000000000011, -2.650000000000009))
            ThreePointArc((5.000000000000011, -2.650000000000009), (8.93e-15, -7.650000000000012), (-4.999999999999993, -2.6500000000000075))
            Line((-4.999999999999993, -2.6500000000000075), (-4.999999999999993, 3.3499999999999894))
            ThreePointArc((-4.999999999999993, 3.3499999999999894), (9.04e-15, 8.349999999999993), (5.000000000000011, 3.3499999999999908))
        make_face()
    extrude(amount=ENL_V_MAT_EXTRU_8_DEPTH, mode=Mode.SUBTRACT)

    # Esquisse21 → Boss.-Extru.13 (add)
    with BuildSketch(Plane(origin=(0, 0, 25), x_dir=(-1, 0, 0), z_dir=(0, 0, -1))):
        with Locations((0, 69.03999999999999)):
            Circle(ESQUISSE21_R)
        with Locations(Location((-9.85e-15, -2.6500000000000092, 0), (0, 0, 180))):
            Circle(ESQUISSE21_R_2)
    extrude(amount=BOSS_EXTRU_13_DEPTH)

    # Esquisse22 → Enlèv. mat.-Extru.9 (cut)
    with BuildSketch(Plane.XY.offset(28.000000000000004)):
        with Locations((0, 69.03999999999999)):
            Circle(ESQUISSE22_R)
        with Locations((9.85e-15, -2.6500000000000092)):
            Circle(ESQUISSE22_R_2)
    extrude(amount=-ENL_V_MAT_EXTRU_9_DEPTH, mode=Mode.SUBTRACT)

    # Esquisse23 → Enlèv. mat.-Extru.10 (cut, up to next)
    with BuildSketch(Plane.XZ.offset(74.15), mode=Mode.PRIVATE) as enl_v_mat_extru_10_sk1:
        Polygon((4.001999999999999, 3.6500000000000075), (-5.018961215509872, 3.649999999999995), (-4.697999999999998, 8.349999999999994), (4.322961215509869, 8.35000000000001), align=None)
    enl_v_mat_extru_10_tool1 = extrude(enl_v_mat_extru_10_sk1.sketch, amount=-ENL_V_MAT_EXTRU_10_REACH, mode=Mode.PRIVATE) & part_1.part
    add(enl_v_mat_extru_10_tool1.solids().sort_by_distance((-0.348, -74.15, 6))[0], mode=Mode.SUBTRACT)

    # Congé4
    cong_4_edges = [part_1.edges().sort_by_distance(p)[0] for p in [
        (4.322961215509869, -72.65, 8.35000000000001),
        (-5.018961215509872, -72.65, 3.649999999999995),
        (4.001999999999999, -72.65, 3.6500000000000075),
        (-4.697999999999998, -72.65, 8.349999999999994),
    ]]
    fillet(cong_4_edges, radius=CONG_4_R)

    # Esquisse24 → Enlèv. mat.-Extru.11 (cut, up to next)
    with BuildSketch(Plane.XZ.offset(74.15), mode=Mode.PRIVATE) as enl_v_mat_extru_11_sk1:
        Polygon((6.700000000000026, 21.35), (-6.699999999999974, 21.35), (-6.6999999999999735, 12.650000000000002), (6.700000000000027, 12.650000000000004), align=None)
    enl_v_mat_extru_11_tool1 = extrude(enl_v_mat_extru_11_sk1.sketch, amount=-ENL_V_MAT_EXTRU_11_REACH, mode=Mode.PRIVATE) & part_1.part
    add(enl_v_mat_extru_11_tool1.solids().sort_by_distance((0, -74.15, 17))[0], mode=Mode.SUBTRACT)

    # Esquisse26 → Enlèv. mat.-Extru.12 (cut)
    with BuildSketch(Plane.XZ.offset(74.15)):
        Polygon((7.500000000000025, 11.800000000000002), (-7.499999999999974, 11.8), (-7.499999999999974, 22.2), (7.500000000000025, 22.2), align=None)
    extrude(amount=-ENL_V_MAT_EXTRU_12_DEPTH, mode=Mode.SUBTRACT)

    # Esquisse27 → Boss.-Extru.19 (add)
    with BuildSketch(Plane(origin=(0, 0, 25), x_dir=(-1, 0, 0), z_dir=(0, 0, -1)).offset(BOSS_EXTRU_19_START)):
        with BuildLine():
            Line((-12.999999999999996, 1.349999999999991), (13.000000000000007, 1.349999999999991))
            ThreePointArc((13.000000000000007, 1.349999999999991), (18.656854249492383, 3.69314575050761), (21.000000000000004, 9.349999999999987))
            Line((21.000000000000004, 9.349999999999987), (21.000000000000004, 57.039999999999985))
            ThreePointArc((21.000000000000004, 57.039999999999985), (18.656854249492383, 62.69685424949236), (13.000000000000005, 65.03999999999999))
            Line((13.000000000000005, 65.03999999999999), (-12.999999999999998, 65.03999999999999))
            ThreePointArc((-12.999999999999998, 65.03999999999999), (-18.656854249492383, 62.69685424949237), (-20.999999999999996, 57.039999999999985))
            Line((-20.999999999999996, 57.039999999999985), (-20.999999999999996, 9.34999999999999))
            ThreePointArc((-20.999999999999996, 9.34999999999999), (-18.656854249492376, 3.693145750507611), (-12.999999999999996, 1.349999999999991))
        make_face()
        with BuildLine():
            Line((-12.999999999999996, 3.349999999999991), (13.000000000000005, 3.3499999999999885))
            ThreePointArc((13.000000000000005, 3.3499999999999885), (17.24264068711929, 5.107359312880704), (19.000000000000004, 9.349999999999989))
            Line((19.000000000000004, 9.349999999999989), (19.000000000000004, 57.039999999999985))
            ThreePointArc((19.000000000000004, 57.039999999999985), (17.24264068711929, 61.28264068711927), (13.000000000000005, 63.039999999999985))
            Line((13.000000000000005, 63.039999999999985), (-12.999999999999996, 63.039999999999985))
            ThreePointArc((-12.999999999999996, 63.039999999999985), (-17.24264068711928, 61.28264068711927), (-18.999999999999996, 57.039999999999985))
            Line((-18.999999999999996, 57.039999999999985), (-18.999999999999996, 9.34999999999999))
            ThreePointArc((-18.999999999999996, 9.34999999999999), (-17.242640687119284, 5.107359312880706), (-12.999999999999996, 3.349999999999991))
        make_face(mode=Mode.SUBTRACT)
    extrude(amount=-BOSS_EXTRU_19_DEPTH)

    # Esquisse28 → Boss.-Extru.20 (add)
    with BuildSketch(Plane(origin=(0, 0, 5.000000000000001), x_dir=(-1, 0, 0), z_dir=(0, 0, -1)).offset(BOSS_EXTRU_20_START)):
        with BuildLine():
            Line((-20.999999999999996, 57.039999999999985), (-20.999999999999996, 9.349999999999993))
            ThreePointArc((-20.999999999999996, 9.349999999999993), (-18.656854249492376, 3.693145750507611), (-12.999999999999996, 1.349999999999991))
            Line((-12.999999999999996, 1.349999999999991), (13.000000000000004, 1.34999999999999))
            ThreePointArc((13.000000000000004, 1.34999999999999), (18.656854249492383, 3.6931457505076093), (21.000000000000004, 9.349999999999989))
            Line((21.000000000000004, 9.349999999999989), (21.000000000000004, 57.039999999999985))
            ThreePointArc((21.000000000000004, 57.039999999999985), (18.656854249492383, 62.69685424949236), (13.000000000000005, 65.03999999999999))
            Line((13.000000000000005, 65.03999999999999), (-12.999999999999998, 65.03999999999999))
            ThreePointArc((-12.999999999999998, 65.03999999999999), (-14.281617081194788, 64.93667383505166), (-15.530128017906552, 64.62936441429743))
            ThreePointArc((-15.530128017906552, 64.62936441429743), (-16.071070062579636, 64.35207157757057), (-16.64778363861102, 64.15994905360155))
            ThreePointArc((-16.64778363861102, 64.15994905360155), (-19.825769887305324, 61.212393251547105), (-20.999999999999996, 57.039999999999985))
        make_face()
    extrude(amount=-BOSS_EXTRU_20_DEPTH)

    # Esquisse29 → Enlèv. mat.-Extru.13 (cut, up to next)
    with BuildSketch(Plane.XZ.offset(-1.349999999999991), mode=Mode.PRIVATE) as enl_v_mat_extru_13_sk1:
        with Locations(Location((10.951190034816705, 14, 0), (0, 0, 270))):
            Circle(ESQUISSE29_R)
    enl_v_mat_extru_13_tool1 = extrude(enl_v_mat_extru_13_sk1.sketch, amount=-ENL_V_MAT_EXTRU_13_REACH, mode=Mode.PRIVATE) & part_1.part
    add(enl_v_mat_extru_13_tool1.solids().sort_by_distance((10.95119, 1.35, 14))[0], mode=Mode.SUBTRACT)

    # Esquisse6 → Enlèv. mat.-Extru.14 (cut, up to next)
    with BuildSketch(Plane(origin=(0, 98.04, 0), x_dir=(1, 0, 0), z_dir=(0, 1, 0)), mode=Mode.PRIVATE) as enl_v_mat_extru_14_sk1:
        Polygon((8.2, -16.75), (5.999999999999999, -16.750000000000004), (5.999999999999998, -4.250000000000002), (8.2, -4.250000000000001), align=None)
    enl_v_mat_extru_14_tool1 = extrude(enl_v_mat_extru_14_sk1.sketch, amount=-ENL_V_MAT_EXTRU_14_REACH, mode=Mode.PRIVATE) & part_1.part
    add(enl_v_mat_extru_14_tool1.solids().sort_by_distance((7.1, 98.04, 10.5))[0], mode=Mode.SUBTRACT)

    # Esquisse30 → Enlèv. mat.-Extru.15 (cut)
    with BuildSketch(Plane.XZ.offset(74.15)):
        with BuildLine():
            Line((-3.4130332491096813, 1.6499999999999966), (2.600940894563565, 1.6500000000000052))
            ThreePointArc((2.600940894563565, 1.6500000000000052), (4.990019792784585, 2.592207588940223), (6.092808251873733, 4.911541703957136))
            Line((6.092808251873733, 4.911541703957136), (6.208900606419857, 6.611541703957134))
            ThreePointArc((6.208900606419857, 6.611541703957134), (5.274825660169467, 9.239078898221033), (2.7170332491096776, 10.350000000000009))
            Line((2.7170332491096776, 10.350000000000009), (-3.2969408945635665, 10.349999999999996))
            ThreePointArc((-3.2969408945635665, 10.349999999999996), (-5.686019792784581, 9.40779241105978), (-6.788808251873732, 7.088458296042876))
            Line((-6.788808251873732, 7.088458296042876), (-6.904900606419857, 5.388458296042875))
            ThreePointArc((-6.904900606419857, 5.388458296042875), (-5.970825660169471, 2.7609211017789765), (-3.4130332491096813, 1.6499999999999966))
        make_face()
    extrude(amount=-ENL_V_MAT_EXTRU_15_DEPTH, mode=Mode.SUBTRACT)


solid = part_1.part
